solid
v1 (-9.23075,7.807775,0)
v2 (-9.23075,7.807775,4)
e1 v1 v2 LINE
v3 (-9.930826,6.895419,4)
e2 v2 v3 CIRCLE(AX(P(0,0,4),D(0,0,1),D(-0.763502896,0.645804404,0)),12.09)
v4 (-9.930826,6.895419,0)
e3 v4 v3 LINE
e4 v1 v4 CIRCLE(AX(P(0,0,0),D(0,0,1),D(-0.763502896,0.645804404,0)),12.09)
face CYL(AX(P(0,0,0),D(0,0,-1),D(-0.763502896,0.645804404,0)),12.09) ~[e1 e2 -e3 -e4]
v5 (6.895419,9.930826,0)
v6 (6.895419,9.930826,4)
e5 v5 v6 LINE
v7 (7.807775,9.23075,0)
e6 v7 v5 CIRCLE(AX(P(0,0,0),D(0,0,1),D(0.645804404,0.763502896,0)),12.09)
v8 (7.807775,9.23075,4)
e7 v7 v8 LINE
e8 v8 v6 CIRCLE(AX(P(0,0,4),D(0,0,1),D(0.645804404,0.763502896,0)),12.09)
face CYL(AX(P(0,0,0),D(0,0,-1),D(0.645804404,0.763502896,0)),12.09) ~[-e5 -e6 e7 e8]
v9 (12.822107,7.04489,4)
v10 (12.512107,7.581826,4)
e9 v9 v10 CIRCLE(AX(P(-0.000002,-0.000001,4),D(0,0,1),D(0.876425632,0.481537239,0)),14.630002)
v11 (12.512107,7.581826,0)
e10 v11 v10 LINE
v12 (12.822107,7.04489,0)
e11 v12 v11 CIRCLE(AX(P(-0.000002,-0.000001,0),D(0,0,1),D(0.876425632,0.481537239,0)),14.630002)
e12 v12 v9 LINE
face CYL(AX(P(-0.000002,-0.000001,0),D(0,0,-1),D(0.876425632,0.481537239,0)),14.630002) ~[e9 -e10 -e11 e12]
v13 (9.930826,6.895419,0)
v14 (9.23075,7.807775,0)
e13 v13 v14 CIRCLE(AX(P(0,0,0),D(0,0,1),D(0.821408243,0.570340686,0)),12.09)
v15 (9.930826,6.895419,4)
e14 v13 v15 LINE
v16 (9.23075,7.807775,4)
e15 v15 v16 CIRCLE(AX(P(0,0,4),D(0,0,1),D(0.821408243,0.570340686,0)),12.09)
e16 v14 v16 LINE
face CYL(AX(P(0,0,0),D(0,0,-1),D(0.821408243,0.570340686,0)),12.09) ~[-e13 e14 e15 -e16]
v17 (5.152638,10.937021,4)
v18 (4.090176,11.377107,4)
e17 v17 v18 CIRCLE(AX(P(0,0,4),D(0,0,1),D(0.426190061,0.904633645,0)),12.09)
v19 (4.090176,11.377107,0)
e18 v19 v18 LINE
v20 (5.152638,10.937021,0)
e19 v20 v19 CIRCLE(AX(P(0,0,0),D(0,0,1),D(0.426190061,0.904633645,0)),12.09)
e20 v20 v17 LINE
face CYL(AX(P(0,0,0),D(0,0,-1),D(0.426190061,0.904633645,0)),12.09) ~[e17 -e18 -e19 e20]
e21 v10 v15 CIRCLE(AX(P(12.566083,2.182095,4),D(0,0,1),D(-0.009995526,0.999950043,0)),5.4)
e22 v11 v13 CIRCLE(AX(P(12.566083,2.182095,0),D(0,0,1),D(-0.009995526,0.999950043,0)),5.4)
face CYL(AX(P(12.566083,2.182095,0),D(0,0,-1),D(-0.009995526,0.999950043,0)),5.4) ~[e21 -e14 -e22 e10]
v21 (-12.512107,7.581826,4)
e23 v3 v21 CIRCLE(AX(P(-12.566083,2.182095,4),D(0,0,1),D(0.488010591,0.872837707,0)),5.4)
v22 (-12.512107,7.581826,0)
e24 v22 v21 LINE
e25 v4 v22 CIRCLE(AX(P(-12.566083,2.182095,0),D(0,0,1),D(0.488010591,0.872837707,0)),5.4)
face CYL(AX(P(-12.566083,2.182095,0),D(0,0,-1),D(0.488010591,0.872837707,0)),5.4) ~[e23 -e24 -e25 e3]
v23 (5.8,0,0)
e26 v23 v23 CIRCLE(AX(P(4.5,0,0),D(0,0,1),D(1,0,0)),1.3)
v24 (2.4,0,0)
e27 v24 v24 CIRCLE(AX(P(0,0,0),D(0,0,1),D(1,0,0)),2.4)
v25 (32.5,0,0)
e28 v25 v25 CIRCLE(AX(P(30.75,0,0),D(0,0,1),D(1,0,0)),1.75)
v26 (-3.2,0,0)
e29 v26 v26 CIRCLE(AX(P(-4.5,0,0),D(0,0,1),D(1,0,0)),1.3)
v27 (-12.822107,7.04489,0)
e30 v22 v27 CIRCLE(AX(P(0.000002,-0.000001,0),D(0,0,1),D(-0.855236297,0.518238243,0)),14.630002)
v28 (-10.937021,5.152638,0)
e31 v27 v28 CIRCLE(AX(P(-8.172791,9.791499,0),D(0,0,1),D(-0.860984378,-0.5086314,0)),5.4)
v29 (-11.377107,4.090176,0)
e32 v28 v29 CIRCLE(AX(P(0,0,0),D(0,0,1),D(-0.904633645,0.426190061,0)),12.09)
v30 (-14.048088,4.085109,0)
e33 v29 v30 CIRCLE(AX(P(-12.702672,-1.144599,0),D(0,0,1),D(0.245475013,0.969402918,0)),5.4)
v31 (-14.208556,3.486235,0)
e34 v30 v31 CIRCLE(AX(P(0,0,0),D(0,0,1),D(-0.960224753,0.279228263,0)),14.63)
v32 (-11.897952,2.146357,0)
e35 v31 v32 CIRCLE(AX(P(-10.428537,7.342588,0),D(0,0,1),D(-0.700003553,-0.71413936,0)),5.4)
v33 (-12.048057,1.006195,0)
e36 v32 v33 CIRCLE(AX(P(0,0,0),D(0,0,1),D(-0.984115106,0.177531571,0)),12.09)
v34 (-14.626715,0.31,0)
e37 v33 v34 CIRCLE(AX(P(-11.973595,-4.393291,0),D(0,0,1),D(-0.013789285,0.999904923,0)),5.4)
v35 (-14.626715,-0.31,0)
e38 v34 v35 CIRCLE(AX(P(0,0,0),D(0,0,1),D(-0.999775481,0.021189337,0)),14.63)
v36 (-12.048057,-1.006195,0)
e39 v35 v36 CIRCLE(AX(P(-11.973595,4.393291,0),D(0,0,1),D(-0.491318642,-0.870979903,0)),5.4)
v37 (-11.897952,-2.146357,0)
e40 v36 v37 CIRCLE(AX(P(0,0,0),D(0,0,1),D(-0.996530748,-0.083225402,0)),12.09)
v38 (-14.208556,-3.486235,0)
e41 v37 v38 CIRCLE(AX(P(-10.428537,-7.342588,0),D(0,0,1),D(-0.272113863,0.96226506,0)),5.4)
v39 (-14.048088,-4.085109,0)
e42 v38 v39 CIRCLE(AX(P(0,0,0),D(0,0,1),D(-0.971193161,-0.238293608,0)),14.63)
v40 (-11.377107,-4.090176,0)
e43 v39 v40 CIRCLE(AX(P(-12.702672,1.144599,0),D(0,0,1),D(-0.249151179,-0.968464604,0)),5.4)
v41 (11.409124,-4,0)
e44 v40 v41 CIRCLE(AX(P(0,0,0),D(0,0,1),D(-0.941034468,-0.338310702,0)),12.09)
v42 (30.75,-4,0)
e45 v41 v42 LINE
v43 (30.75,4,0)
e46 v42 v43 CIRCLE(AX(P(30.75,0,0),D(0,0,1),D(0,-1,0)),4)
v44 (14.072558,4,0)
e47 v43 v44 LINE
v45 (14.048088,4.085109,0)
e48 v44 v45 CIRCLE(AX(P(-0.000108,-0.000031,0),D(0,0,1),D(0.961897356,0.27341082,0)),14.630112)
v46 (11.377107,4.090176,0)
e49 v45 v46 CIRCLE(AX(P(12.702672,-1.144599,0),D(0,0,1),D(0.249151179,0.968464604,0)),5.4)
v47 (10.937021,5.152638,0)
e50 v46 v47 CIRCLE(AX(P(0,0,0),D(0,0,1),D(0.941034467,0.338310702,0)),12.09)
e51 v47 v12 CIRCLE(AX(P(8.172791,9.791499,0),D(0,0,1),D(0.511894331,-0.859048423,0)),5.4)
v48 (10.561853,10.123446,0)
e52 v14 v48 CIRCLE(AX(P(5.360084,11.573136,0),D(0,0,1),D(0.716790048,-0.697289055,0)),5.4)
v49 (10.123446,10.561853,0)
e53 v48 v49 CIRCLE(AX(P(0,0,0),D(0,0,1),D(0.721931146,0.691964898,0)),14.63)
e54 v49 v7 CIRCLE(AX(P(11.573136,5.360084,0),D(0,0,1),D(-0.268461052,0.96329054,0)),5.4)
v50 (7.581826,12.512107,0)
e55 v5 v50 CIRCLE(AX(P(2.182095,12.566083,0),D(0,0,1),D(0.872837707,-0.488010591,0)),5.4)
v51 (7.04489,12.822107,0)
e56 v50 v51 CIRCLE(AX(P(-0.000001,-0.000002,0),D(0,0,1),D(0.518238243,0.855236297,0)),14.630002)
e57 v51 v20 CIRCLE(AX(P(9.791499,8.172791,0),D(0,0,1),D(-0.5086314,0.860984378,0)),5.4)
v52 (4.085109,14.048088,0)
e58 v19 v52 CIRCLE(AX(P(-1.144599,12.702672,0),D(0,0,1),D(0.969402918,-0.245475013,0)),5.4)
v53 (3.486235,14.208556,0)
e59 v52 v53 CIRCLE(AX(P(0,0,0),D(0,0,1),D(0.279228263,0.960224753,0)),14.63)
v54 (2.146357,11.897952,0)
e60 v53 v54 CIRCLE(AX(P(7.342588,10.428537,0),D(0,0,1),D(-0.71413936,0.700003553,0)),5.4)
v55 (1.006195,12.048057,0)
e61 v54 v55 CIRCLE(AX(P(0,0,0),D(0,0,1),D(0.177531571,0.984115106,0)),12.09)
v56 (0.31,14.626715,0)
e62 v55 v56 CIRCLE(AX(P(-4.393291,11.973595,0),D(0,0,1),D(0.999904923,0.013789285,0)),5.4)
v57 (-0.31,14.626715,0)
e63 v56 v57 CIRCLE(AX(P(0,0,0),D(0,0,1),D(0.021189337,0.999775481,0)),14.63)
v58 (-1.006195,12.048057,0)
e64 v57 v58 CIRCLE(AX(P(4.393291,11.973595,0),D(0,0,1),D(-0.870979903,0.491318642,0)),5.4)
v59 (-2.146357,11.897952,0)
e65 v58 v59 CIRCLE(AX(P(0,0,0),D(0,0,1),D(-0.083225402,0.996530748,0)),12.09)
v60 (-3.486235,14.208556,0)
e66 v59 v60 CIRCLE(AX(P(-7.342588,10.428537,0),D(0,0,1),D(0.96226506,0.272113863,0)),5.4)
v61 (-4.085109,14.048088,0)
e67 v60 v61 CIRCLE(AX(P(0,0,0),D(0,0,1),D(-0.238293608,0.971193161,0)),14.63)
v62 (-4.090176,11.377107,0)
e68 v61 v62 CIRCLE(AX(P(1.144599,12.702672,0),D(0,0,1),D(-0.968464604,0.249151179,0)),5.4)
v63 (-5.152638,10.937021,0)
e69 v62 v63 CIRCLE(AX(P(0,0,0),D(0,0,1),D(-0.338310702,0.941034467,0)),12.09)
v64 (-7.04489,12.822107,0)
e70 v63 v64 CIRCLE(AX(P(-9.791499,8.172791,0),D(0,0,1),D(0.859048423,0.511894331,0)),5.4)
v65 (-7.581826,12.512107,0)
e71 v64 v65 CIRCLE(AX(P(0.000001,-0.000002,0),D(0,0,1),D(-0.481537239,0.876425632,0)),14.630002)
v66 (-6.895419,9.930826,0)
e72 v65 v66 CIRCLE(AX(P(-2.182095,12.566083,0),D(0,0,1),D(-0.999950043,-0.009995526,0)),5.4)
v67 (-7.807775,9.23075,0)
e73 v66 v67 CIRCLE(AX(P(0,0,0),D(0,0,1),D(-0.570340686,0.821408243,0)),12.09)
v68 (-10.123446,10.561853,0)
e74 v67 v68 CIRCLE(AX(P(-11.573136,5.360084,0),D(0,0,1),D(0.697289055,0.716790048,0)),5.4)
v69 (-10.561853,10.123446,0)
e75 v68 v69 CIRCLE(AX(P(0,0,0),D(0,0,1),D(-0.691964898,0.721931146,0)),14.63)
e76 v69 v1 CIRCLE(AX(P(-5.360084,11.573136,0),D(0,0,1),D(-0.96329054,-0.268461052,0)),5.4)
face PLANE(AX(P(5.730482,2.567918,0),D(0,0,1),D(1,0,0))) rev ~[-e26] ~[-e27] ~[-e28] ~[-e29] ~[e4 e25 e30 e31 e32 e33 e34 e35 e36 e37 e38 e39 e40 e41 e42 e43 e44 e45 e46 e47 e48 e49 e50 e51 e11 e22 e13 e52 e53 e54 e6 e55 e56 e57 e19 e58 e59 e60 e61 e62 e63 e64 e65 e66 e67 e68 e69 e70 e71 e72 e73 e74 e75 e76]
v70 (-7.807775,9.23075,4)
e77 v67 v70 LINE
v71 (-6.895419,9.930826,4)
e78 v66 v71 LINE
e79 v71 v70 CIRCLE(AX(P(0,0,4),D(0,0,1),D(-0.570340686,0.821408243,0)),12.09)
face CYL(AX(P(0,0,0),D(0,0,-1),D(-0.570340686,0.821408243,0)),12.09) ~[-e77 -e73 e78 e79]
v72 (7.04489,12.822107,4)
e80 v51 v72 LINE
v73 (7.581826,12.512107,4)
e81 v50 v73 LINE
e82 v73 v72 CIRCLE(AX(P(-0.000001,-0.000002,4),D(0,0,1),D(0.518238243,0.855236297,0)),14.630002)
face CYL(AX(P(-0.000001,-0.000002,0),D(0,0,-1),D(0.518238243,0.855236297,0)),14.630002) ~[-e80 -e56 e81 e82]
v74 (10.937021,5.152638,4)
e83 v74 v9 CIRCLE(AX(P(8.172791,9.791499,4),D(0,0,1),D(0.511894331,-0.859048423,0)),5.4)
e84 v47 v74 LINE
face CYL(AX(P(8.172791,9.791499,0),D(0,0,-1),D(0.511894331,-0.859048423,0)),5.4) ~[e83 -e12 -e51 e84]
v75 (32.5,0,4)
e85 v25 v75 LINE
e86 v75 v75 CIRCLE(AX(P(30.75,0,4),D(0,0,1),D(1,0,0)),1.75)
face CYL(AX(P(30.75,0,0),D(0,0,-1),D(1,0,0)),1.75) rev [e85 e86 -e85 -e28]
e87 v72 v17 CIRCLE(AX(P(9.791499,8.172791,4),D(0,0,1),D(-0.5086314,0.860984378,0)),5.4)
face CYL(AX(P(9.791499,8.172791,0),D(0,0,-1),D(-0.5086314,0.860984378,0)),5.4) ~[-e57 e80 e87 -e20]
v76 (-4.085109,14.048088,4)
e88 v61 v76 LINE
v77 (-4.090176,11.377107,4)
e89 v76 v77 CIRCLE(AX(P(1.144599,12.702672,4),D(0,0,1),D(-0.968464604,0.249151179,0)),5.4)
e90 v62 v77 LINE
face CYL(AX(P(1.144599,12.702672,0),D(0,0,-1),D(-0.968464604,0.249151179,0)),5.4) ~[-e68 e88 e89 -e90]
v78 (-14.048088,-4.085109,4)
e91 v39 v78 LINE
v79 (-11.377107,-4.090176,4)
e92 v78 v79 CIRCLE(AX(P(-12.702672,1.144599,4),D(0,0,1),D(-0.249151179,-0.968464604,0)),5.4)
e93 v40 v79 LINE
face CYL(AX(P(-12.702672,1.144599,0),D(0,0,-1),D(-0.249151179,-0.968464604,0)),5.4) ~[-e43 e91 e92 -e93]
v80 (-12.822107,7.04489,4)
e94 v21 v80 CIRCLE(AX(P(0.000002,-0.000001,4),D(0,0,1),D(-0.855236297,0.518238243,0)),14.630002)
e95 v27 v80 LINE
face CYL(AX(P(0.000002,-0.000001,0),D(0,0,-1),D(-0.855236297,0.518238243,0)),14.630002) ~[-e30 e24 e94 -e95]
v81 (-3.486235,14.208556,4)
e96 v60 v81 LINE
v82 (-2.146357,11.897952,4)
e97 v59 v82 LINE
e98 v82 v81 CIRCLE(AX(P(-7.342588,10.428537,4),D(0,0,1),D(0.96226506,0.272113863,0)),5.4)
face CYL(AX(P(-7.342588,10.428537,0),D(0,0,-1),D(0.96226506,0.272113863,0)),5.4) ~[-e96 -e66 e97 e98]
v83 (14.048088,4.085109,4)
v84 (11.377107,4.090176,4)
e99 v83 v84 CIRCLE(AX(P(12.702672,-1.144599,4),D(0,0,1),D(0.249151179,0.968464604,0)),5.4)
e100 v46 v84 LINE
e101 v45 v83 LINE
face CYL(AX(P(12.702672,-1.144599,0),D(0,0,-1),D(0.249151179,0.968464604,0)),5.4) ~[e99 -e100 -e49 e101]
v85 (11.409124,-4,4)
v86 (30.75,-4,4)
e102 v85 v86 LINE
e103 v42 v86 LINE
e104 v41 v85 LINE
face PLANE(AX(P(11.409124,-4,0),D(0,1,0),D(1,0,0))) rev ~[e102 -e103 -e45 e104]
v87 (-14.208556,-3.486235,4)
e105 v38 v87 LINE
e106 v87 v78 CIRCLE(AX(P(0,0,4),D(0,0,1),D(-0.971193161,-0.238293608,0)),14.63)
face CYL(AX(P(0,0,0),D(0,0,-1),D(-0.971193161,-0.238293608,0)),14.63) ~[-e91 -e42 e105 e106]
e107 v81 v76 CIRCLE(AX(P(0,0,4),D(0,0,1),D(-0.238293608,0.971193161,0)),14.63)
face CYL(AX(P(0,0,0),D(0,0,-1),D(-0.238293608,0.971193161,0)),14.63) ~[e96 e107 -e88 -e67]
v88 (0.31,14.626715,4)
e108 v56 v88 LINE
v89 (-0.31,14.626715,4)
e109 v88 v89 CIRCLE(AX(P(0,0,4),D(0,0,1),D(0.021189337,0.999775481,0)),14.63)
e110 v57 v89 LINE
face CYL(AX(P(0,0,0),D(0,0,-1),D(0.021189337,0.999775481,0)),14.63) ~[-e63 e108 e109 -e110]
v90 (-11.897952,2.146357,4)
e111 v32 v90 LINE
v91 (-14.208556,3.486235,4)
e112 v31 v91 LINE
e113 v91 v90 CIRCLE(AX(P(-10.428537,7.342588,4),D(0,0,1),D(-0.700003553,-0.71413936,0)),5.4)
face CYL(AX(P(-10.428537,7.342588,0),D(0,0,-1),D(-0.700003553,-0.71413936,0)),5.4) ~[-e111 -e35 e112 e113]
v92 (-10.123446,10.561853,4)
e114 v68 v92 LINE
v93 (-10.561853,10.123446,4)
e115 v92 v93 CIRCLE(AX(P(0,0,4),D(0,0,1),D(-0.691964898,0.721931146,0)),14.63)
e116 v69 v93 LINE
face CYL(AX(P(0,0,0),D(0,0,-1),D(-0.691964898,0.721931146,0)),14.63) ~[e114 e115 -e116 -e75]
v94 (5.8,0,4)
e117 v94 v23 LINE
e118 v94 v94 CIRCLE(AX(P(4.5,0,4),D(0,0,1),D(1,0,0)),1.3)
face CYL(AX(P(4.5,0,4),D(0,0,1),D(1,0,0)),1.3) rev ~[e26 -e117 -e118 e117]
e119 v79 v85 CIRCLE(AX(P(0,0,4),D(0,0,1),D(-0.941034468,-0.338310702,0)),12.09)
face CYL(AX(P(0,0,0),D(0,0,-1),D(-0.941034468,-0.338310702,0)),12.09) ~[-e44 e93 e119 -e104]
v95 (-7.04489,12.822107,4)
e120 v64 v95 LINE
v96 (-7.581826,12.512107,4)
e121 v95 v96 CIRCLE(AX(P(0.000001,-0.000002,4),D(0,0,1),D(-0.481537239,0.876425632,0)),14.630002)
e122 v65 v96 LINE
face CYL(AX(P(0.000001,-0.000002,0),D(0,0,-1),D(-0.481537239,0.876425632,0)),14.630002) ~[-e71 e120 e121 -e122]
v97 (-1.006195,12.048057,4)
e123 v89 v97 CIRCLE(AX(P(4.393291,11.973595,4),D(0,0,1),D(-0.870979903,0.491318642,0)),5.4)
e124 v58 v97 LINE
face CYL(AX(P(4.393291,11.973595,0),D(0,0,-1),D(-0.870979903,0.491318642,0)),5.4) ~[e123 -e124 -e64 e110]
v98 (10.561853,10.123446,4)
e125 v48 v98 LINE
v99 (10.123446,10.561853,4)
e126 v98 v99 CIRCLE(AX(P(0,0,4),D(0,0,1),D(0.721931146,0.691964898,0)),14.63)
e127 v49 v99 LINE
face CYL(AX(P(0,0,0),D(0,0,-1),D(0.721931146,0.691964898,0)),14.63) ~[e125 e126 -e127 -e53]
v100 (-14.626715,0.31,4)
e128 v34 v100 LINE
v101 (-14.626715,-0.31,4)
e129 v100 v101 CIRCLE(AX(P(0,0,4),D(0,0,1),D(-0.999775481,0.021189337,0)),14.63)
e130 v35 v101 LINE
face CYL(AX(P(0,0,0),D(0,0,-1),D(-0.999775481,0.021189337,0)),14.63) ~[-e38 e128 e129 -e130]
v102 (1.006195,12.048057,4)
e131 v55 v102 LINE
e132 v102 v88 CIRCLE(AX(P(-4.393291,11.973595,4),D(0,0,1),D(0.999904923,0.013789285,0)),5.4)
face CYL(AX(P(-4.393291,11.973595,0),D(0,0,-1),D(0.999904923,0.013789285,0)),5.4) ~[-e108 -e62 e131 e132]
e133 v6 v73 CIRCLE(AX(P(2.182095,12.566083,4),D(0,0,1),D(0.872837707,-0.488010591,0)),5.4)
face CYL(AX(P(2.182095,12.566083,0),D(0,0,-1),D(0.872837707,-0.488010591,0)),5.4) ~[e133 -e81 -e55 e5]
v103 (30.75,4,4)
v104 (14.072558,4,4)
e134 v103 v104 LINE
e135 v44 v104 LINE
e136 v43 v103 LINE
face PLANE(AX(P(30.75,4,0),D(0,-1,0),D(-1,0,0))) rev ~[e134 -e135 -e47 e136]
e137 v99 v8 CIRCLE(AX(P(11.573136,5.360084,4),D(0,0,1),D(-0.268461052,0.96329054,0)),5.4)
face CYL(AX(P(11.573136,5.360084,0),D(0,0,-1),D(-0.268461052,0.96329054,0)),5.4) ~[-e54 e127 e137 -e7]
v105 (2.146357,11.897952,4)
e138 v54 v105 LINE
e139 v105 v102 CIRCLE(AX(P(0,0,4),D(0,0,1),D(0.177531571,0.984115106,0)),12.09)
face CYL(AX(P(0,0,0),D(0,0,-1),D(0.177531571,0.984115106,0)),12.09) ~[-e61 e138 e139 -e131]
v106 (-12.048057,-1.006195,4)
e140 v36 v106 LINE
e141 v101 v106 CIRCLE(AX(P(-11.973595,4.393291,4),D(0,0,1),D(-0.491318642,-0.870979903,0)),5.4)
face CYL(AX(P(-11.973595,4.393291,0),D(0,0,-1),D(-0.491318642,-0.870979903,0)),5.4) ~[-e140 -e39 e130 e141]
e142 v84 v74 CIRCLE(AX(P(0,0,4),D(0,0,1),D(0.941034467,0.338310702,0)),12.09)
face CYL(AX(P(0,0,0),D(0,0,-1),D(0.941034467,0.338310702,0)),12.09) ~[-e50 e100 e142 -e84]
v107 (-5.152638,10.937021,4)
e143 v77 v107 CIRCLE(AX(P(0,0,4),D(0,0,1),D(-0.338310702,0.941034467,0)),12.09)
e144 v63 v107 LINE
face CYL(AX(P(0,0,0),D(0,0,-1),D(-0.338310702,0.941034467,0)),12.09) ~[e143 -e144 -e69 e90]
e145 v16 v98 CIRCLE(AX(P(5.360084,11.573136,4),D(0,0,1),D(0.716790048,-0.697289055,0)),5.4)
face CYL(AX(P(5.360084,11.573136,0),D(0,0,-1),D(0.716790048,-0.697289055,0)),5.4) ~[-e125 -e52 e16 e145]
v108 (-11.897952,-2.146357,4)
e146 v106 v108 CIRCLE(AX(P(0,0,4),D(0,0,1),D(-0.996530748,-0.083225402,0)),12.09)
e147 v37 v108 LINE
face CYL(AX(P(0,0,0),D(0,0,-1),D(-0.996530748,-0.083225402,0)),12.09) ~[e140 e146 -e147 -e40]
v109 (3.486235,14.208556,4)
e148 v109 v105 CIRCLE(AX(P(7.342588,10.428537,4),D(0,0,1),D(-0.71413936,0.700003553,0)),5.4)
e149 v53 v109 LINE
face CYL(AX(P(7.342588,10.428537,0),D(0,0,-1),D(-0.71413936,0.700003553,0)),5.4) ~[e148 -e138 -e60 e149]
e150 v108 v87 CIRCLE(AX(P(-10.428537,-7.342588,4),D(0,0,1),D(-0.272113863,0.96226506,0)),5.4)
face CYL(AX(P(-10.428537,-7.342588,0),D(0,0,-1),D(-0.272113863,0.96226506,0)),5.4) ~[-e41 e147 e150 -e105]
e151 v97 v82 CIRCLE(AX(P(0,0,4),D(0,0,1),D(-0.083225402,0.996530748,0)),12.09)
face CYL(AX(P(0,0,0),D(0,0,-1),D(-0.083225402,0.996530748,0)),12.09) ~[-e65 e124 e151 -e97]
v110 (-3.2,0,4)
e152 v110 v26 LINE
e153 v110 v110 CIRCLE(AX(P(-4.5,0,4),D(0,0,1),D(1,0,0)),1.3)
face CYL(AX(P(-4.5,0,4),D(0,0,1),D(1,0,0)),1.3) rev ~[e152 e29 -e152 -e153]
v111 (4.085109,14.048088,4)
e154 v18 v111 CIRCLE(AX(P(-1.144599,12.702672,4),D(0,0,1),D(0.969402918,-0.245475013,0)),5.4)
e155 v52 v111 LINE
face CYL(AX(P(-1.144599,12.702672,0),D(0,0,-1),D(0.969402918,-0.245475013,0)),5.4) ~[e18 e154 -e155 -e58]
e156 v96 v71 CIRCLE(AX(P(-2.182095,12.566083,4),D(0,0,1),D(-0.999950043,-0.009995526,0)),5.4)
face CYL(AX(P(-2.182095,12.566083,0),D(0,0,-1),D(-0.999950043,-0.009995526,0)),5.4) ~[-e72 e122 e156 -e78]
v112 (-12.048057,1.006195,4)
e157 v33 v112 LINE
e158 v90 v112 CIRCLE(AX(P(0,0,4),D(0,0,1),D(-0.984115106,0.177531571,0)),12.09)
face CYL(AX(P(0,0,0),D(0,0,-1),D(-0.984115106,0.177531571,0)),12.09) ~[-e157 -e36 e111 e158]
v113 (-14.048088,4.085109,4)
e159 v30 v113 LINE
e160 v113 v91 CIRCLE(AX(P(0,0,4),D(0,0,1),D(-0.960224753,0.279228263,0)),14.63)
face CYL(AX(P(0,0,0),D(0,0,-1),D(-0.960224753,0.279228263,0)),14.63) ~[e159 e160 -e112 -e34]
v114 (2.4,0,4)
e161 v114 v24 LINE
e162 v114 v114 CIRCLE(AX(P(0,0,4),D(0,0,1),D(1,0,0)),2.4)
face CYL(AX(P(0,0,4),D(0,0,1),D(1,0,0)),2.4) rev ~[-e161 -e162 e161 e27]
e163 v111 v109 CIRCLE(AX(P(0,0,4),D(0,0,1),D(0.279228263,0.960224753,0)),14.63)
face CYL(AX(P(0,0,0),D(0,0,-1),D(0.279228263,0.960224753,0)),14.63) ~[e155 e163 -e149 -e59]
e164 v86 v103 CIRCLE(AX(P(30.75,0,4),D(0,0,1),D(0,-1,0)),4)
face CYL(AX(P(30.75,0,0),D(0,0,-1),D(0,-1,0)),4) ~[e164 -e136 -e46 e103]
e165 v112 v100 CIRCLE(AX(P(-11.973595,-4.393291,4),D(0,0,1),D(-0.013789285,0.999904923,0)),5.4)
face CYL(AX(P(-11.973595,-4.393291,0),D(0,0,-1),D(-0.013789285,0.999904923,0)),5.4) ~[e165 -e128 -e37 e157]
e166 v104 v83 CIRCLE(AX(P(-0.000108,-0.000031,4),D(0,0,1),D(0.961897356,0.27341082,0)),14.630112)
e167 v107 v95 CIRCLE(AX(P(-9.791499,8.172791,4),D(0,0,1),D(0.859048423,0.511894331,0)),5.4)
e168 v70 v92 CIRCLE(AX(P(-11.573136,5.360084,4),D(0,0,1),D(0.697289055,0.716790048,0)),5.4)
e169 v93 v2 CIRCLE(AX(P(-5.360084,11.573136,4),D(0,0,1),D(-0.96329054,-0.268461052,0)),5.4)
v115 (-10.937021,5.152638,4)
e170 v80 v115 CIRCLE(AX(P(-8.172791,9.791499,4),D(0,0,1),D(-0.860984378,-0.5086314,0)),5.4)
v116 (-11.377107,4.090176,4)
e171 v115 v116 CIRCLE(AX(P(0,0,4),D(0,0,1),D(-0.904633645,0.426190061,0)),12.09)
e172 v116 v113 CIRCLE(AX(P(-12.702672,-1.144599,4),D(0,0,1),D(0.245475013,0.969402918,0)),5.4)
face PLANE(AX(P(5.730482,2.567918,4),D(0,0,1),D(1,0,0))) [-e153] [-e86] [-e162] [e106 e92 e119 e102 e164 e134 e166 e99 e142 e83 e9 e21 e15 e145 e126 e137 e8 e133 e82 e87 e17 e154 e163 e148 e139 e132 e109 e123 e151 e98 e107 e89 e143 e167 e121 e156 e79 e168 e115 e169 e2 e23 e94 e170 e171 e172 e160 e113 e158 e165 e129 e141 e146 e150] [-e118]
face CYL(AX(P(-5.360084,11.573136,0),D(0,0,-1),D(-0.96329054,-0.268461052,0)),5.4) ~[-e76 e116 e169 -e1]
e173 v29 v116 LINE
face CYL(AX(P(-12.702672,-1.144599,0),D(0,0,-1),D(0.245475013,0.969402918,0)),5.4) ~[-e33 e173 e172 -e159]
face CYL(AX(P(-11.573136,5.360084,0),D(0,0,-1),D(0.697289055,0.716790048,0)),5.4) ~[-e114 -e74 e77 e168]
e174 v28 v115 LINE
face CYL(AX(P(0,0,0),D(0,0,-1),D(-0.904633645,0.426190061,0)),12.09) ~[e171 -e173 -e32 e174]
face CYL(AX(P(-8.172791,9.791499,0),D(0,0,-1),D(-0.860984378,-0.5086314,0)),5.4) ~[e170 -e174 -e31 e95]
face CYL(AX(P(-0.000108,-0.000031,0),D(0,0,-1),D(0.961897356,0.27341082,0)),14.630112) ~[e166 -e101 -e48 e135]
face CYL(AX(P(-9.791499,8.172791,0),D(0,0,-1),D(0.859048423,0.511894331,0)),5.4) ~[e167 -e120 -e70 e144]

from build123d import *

# Parameters (mm, degrees)
SKETCH1_R           = 1.75
BOSS_EXTRUDE1_DEPTH = 4
SKETCH2_R           = 1.3
SKETCH2_R_2         = 2.4
CUT_EXTRUDE1_DEPTH  = 38.915688046


with BuildPart() as part:
    # Sketch1 → Boss-Extrude1 (new body)
    with BuildSketch(Plane.XY):
        with BuildLine():
            ThreePointArc((30.75, -4), (34.75, 0), (30.75, 4))
            Line((30.75, 4), (14.072558403, 4))
            ThreePointArc((14.072558403, 4), (14.06038767, 4.04257326), (14.048088143, 4.085109489))
            ThreePointArc((14.048088143, 4.085109489), (12.712915648, 4.255390909), (11.377106712, 4.090176385))
            ThreePointArc((11.377106712, 4.090176385), (11.169703548, 4.626642697), (10.937020765, 5.152637848))
            ThreePointArc((10.937020765, 5.152637848), (11.998404632, 5.980373095), (12.82210701, 7.044889767))
            ThreePointArc((12.82210701, 7.044889767), (12.669951657, 7.315), (12.51210701, 7.581825517))
            ThreePointArc((12.51210701, 7.581825517), (11.17835734, 7.400736668), (9.930825655, 6.8954189))
            ThreePointArc((9.930825655, 6.8954189), (9.591641884, 7.359925677), (9.230750012, 7.807775241))
            ThreePointArc((9.230750012, 7.807775241), (10.041734454, 8.882012453), (10.561852666, 10.123446462))
            ThreePointArc((10.561852666, 10.123446462), (10.344972209, 10.344972209), (10.123446462, 10.561852666))
            ThreePointArc((10.123446462, 10.561852666), (8.882012453, 10.041734454), (7.807775241, 9.230750012))
            ThreePointArc((7.807775241, 9.230750012), (7.359925677, 9.591641884), (6.8954189, 9.930825655))
            ThreePointArc((6.8954189, 9.930825655), (7.400736668, 11.17835734), (7.581825517, 12.51210701))
            ThreePointArc((7.581825517, 12.51210701), (7.315, 12.669951657), (7.044889767, 12.82210701))
            ThreePointArc((7.044889767, 12.82210701), (5.980373095, 11.998404632), (5.152637848, 10.937020765))
            ThreePointArc((5.152637848, 10.937020765), (4.626642697, 11.169703548), (4.090176385, 11.377106712))
            ThreePointArc((4.090176385, 11.377106712), (4.255390909, 12.712915648), (4.085109489, 14.048088143))
            ThreePointArc((4.085109489, 14.048088143), (3.78652263, 14.131494839), (3.486235477, 14.208555951))
            ThreePointArc((3.486235477, 14.208555951), (2.671181194, 13.137403362), (2.1463567, 11.897951627))
            ThreePointArc((2.1463567, 11.897951627), (1.578061664, 11.986568374), (1.00619511, 12.048056748))
            ThreePointArc((1.00619511, 12.048056748), (0.820047291, 13.381109763), (0.31, 14.626715284))
            ThreePointArc((0.31, 14.626715284), (0, 14.63), (-0.31, 14.626715284))
            ThreePointArc((-0.31, 14.626715284), (-0.820047291, 13.381109763), (-1.00619511, 12.048056748))
            ThreePointArc((-1.00619511, 12.048056748), (-1.578061664, 11.986568374), (-2.1463567, 11.897951627))
            ThreePointArc((-2.1463567, 11.897951627), (-2.671181194, 13.137403362), (-3.486235477, 14.208555951))
            ThreePointArc((-3.486235477, 14.208555951), (-3.78652263, 14.131494839), (-4.085109489, 14.048088143))
            ThreePointArc((-4.085109489, 14.048088143), (-4.255390909, 12.712915648), (-4.090176385, 11.377106712))
            ThreePointArc((-4.090176385, 11.377106712), (-4.626642697, 11.169703548), (-5.152637848, 10.937020765))
            ThreePointArc((-5.152637848, 10.937020765), (-5.980373095, 11.998404632), (-7.044889767, 12.82210701))
            ThreePointArc((-7.044889767, 12.82210701), (-7.315, 12.669951657), (-7.581825517, 12.51210701))
            ThreePointArc((-7.581825517, 12.51210701), (-7.400736668, 11.17835734), (-6.8954189, 9.930825655))
            ThreePointArc((-6.8954189, 9.930825655), (-7.359925677, 9.591641884), (-7.807775241, 9.230750012))
            ThreePointArc((-7.807775241, 9.230750012), (-8.882012453, 10.041734454), (-10.123446462, 10.561852666))
            ThreePointArc((-10.123446462, 10.561852666), (-10.344972209, 10.344972209), (-10.561852666, 10.123446462))
            ThreePointArc((-10.561852666, 10.123446462), (-10.041734454, 8.882012453), (-9.230750012, 7.807775241))
            ThreePointArc((-9.230750012, 7.807775241), (-9.591641884, 7.359925677), (-9.930825655, 6.8954189))
            ThreePointArc((-9.930825655, 6.8954189), (-11.17835734, 7.400736668), (-12.51210701, 7.581825517))
            ThreePointArc((-12.51210701, 7.581825517), (-12.669951657, 7.315), (-12.82210701, 7.044889767))
            ThreePointArc((-12.82210701, 7.044889767), (-11.998404632, 5.980373095), (-10.937020765, 5.152637848))
            ThreePointArc((-10.937020765, 5.152637848), (-11.169703548, 4.626642697), (-11.377106712, 4.090176385))
            ThreePointArc((-11.377106712, 4.090176385), (-12.712915648, 4.255390909), (-14.048088143, 4.085109489))
            ThreePointArc((-14.048088143, 4.085109489), (-14.131494839, 3.78652263), (-14.208555951, 3.486235477))
            ThreePointArc((-14.208555951, 3.486235477), (-13.137403362, 2.671181194), (-11.897951627, 2.1463567))
            ThreePointArc((-11.897951627, 2.1463567), (-11.986568374, 1.578061664), (-12.048056748, 1.00619511))
            ThreePointArc((-12.048056748, 1.00619511), (-13.381109763, 0.820047291), (-14.626715284, 0.31))
            ThreePointArc((-14.626715284, 0.31), (-14.63, 0), (-14.626715284, -0.31))
            ThreePointArc((-14.626715284, -0.31), (-13.381109763, -0.820047291), (-12.048056748, -1.00619511))
            ThreePointArc((-12.048056748, -1.00619511), (-11.986568374, -1.578061664), (-11.897951627, -2.1463567))
            ThreePointArc((-11.897951627, -2.1463567), (-13.137403362, -2.671181194), (-14.208555951, -3.486235477))
            ThreePointArc((-14.208555951, -3.486235477), (-14.131494839, -3.78652263), (-14.048088143, -4.085109489))
            ThreePointArc((-14.048088143, -4.085109489), (-12.712915648, -4.255390909), (-11.377106712, -4.090176385))
            ThreePointArc((-11.377106712, -4.090176385), (0.047845736, -12.089905326), (11.409123542, -4))
            Line((11.409123542, -4), (30.75, -4))
        make_face()
        Circle(SKETCH1_R, mode=Mode.SUBTRACT)
        with Locations((30.75, 0)):
            Circle(SKETCH1_R, mode=Mode.SUBTRACT)
    extrude(amount=BOSS_EXTRUDE1_DEPTH)

    # Sketch2 → Cut-Extrude1 (cut, through all)
    with BuildSketch(Plane.XY.offset(4)):
        with Locations((4.5, 0)):
            Circle(SKETCH2_R)
        with Locations((-4.5, 0)):
            Circle(SKETCH2_R)
        Circle(SKETCH2_R_2)
    extrude(amount=-CUT_EXTRUDE1_DEPTH, mode=Mode.SUBTRACT)


solid = part.part
